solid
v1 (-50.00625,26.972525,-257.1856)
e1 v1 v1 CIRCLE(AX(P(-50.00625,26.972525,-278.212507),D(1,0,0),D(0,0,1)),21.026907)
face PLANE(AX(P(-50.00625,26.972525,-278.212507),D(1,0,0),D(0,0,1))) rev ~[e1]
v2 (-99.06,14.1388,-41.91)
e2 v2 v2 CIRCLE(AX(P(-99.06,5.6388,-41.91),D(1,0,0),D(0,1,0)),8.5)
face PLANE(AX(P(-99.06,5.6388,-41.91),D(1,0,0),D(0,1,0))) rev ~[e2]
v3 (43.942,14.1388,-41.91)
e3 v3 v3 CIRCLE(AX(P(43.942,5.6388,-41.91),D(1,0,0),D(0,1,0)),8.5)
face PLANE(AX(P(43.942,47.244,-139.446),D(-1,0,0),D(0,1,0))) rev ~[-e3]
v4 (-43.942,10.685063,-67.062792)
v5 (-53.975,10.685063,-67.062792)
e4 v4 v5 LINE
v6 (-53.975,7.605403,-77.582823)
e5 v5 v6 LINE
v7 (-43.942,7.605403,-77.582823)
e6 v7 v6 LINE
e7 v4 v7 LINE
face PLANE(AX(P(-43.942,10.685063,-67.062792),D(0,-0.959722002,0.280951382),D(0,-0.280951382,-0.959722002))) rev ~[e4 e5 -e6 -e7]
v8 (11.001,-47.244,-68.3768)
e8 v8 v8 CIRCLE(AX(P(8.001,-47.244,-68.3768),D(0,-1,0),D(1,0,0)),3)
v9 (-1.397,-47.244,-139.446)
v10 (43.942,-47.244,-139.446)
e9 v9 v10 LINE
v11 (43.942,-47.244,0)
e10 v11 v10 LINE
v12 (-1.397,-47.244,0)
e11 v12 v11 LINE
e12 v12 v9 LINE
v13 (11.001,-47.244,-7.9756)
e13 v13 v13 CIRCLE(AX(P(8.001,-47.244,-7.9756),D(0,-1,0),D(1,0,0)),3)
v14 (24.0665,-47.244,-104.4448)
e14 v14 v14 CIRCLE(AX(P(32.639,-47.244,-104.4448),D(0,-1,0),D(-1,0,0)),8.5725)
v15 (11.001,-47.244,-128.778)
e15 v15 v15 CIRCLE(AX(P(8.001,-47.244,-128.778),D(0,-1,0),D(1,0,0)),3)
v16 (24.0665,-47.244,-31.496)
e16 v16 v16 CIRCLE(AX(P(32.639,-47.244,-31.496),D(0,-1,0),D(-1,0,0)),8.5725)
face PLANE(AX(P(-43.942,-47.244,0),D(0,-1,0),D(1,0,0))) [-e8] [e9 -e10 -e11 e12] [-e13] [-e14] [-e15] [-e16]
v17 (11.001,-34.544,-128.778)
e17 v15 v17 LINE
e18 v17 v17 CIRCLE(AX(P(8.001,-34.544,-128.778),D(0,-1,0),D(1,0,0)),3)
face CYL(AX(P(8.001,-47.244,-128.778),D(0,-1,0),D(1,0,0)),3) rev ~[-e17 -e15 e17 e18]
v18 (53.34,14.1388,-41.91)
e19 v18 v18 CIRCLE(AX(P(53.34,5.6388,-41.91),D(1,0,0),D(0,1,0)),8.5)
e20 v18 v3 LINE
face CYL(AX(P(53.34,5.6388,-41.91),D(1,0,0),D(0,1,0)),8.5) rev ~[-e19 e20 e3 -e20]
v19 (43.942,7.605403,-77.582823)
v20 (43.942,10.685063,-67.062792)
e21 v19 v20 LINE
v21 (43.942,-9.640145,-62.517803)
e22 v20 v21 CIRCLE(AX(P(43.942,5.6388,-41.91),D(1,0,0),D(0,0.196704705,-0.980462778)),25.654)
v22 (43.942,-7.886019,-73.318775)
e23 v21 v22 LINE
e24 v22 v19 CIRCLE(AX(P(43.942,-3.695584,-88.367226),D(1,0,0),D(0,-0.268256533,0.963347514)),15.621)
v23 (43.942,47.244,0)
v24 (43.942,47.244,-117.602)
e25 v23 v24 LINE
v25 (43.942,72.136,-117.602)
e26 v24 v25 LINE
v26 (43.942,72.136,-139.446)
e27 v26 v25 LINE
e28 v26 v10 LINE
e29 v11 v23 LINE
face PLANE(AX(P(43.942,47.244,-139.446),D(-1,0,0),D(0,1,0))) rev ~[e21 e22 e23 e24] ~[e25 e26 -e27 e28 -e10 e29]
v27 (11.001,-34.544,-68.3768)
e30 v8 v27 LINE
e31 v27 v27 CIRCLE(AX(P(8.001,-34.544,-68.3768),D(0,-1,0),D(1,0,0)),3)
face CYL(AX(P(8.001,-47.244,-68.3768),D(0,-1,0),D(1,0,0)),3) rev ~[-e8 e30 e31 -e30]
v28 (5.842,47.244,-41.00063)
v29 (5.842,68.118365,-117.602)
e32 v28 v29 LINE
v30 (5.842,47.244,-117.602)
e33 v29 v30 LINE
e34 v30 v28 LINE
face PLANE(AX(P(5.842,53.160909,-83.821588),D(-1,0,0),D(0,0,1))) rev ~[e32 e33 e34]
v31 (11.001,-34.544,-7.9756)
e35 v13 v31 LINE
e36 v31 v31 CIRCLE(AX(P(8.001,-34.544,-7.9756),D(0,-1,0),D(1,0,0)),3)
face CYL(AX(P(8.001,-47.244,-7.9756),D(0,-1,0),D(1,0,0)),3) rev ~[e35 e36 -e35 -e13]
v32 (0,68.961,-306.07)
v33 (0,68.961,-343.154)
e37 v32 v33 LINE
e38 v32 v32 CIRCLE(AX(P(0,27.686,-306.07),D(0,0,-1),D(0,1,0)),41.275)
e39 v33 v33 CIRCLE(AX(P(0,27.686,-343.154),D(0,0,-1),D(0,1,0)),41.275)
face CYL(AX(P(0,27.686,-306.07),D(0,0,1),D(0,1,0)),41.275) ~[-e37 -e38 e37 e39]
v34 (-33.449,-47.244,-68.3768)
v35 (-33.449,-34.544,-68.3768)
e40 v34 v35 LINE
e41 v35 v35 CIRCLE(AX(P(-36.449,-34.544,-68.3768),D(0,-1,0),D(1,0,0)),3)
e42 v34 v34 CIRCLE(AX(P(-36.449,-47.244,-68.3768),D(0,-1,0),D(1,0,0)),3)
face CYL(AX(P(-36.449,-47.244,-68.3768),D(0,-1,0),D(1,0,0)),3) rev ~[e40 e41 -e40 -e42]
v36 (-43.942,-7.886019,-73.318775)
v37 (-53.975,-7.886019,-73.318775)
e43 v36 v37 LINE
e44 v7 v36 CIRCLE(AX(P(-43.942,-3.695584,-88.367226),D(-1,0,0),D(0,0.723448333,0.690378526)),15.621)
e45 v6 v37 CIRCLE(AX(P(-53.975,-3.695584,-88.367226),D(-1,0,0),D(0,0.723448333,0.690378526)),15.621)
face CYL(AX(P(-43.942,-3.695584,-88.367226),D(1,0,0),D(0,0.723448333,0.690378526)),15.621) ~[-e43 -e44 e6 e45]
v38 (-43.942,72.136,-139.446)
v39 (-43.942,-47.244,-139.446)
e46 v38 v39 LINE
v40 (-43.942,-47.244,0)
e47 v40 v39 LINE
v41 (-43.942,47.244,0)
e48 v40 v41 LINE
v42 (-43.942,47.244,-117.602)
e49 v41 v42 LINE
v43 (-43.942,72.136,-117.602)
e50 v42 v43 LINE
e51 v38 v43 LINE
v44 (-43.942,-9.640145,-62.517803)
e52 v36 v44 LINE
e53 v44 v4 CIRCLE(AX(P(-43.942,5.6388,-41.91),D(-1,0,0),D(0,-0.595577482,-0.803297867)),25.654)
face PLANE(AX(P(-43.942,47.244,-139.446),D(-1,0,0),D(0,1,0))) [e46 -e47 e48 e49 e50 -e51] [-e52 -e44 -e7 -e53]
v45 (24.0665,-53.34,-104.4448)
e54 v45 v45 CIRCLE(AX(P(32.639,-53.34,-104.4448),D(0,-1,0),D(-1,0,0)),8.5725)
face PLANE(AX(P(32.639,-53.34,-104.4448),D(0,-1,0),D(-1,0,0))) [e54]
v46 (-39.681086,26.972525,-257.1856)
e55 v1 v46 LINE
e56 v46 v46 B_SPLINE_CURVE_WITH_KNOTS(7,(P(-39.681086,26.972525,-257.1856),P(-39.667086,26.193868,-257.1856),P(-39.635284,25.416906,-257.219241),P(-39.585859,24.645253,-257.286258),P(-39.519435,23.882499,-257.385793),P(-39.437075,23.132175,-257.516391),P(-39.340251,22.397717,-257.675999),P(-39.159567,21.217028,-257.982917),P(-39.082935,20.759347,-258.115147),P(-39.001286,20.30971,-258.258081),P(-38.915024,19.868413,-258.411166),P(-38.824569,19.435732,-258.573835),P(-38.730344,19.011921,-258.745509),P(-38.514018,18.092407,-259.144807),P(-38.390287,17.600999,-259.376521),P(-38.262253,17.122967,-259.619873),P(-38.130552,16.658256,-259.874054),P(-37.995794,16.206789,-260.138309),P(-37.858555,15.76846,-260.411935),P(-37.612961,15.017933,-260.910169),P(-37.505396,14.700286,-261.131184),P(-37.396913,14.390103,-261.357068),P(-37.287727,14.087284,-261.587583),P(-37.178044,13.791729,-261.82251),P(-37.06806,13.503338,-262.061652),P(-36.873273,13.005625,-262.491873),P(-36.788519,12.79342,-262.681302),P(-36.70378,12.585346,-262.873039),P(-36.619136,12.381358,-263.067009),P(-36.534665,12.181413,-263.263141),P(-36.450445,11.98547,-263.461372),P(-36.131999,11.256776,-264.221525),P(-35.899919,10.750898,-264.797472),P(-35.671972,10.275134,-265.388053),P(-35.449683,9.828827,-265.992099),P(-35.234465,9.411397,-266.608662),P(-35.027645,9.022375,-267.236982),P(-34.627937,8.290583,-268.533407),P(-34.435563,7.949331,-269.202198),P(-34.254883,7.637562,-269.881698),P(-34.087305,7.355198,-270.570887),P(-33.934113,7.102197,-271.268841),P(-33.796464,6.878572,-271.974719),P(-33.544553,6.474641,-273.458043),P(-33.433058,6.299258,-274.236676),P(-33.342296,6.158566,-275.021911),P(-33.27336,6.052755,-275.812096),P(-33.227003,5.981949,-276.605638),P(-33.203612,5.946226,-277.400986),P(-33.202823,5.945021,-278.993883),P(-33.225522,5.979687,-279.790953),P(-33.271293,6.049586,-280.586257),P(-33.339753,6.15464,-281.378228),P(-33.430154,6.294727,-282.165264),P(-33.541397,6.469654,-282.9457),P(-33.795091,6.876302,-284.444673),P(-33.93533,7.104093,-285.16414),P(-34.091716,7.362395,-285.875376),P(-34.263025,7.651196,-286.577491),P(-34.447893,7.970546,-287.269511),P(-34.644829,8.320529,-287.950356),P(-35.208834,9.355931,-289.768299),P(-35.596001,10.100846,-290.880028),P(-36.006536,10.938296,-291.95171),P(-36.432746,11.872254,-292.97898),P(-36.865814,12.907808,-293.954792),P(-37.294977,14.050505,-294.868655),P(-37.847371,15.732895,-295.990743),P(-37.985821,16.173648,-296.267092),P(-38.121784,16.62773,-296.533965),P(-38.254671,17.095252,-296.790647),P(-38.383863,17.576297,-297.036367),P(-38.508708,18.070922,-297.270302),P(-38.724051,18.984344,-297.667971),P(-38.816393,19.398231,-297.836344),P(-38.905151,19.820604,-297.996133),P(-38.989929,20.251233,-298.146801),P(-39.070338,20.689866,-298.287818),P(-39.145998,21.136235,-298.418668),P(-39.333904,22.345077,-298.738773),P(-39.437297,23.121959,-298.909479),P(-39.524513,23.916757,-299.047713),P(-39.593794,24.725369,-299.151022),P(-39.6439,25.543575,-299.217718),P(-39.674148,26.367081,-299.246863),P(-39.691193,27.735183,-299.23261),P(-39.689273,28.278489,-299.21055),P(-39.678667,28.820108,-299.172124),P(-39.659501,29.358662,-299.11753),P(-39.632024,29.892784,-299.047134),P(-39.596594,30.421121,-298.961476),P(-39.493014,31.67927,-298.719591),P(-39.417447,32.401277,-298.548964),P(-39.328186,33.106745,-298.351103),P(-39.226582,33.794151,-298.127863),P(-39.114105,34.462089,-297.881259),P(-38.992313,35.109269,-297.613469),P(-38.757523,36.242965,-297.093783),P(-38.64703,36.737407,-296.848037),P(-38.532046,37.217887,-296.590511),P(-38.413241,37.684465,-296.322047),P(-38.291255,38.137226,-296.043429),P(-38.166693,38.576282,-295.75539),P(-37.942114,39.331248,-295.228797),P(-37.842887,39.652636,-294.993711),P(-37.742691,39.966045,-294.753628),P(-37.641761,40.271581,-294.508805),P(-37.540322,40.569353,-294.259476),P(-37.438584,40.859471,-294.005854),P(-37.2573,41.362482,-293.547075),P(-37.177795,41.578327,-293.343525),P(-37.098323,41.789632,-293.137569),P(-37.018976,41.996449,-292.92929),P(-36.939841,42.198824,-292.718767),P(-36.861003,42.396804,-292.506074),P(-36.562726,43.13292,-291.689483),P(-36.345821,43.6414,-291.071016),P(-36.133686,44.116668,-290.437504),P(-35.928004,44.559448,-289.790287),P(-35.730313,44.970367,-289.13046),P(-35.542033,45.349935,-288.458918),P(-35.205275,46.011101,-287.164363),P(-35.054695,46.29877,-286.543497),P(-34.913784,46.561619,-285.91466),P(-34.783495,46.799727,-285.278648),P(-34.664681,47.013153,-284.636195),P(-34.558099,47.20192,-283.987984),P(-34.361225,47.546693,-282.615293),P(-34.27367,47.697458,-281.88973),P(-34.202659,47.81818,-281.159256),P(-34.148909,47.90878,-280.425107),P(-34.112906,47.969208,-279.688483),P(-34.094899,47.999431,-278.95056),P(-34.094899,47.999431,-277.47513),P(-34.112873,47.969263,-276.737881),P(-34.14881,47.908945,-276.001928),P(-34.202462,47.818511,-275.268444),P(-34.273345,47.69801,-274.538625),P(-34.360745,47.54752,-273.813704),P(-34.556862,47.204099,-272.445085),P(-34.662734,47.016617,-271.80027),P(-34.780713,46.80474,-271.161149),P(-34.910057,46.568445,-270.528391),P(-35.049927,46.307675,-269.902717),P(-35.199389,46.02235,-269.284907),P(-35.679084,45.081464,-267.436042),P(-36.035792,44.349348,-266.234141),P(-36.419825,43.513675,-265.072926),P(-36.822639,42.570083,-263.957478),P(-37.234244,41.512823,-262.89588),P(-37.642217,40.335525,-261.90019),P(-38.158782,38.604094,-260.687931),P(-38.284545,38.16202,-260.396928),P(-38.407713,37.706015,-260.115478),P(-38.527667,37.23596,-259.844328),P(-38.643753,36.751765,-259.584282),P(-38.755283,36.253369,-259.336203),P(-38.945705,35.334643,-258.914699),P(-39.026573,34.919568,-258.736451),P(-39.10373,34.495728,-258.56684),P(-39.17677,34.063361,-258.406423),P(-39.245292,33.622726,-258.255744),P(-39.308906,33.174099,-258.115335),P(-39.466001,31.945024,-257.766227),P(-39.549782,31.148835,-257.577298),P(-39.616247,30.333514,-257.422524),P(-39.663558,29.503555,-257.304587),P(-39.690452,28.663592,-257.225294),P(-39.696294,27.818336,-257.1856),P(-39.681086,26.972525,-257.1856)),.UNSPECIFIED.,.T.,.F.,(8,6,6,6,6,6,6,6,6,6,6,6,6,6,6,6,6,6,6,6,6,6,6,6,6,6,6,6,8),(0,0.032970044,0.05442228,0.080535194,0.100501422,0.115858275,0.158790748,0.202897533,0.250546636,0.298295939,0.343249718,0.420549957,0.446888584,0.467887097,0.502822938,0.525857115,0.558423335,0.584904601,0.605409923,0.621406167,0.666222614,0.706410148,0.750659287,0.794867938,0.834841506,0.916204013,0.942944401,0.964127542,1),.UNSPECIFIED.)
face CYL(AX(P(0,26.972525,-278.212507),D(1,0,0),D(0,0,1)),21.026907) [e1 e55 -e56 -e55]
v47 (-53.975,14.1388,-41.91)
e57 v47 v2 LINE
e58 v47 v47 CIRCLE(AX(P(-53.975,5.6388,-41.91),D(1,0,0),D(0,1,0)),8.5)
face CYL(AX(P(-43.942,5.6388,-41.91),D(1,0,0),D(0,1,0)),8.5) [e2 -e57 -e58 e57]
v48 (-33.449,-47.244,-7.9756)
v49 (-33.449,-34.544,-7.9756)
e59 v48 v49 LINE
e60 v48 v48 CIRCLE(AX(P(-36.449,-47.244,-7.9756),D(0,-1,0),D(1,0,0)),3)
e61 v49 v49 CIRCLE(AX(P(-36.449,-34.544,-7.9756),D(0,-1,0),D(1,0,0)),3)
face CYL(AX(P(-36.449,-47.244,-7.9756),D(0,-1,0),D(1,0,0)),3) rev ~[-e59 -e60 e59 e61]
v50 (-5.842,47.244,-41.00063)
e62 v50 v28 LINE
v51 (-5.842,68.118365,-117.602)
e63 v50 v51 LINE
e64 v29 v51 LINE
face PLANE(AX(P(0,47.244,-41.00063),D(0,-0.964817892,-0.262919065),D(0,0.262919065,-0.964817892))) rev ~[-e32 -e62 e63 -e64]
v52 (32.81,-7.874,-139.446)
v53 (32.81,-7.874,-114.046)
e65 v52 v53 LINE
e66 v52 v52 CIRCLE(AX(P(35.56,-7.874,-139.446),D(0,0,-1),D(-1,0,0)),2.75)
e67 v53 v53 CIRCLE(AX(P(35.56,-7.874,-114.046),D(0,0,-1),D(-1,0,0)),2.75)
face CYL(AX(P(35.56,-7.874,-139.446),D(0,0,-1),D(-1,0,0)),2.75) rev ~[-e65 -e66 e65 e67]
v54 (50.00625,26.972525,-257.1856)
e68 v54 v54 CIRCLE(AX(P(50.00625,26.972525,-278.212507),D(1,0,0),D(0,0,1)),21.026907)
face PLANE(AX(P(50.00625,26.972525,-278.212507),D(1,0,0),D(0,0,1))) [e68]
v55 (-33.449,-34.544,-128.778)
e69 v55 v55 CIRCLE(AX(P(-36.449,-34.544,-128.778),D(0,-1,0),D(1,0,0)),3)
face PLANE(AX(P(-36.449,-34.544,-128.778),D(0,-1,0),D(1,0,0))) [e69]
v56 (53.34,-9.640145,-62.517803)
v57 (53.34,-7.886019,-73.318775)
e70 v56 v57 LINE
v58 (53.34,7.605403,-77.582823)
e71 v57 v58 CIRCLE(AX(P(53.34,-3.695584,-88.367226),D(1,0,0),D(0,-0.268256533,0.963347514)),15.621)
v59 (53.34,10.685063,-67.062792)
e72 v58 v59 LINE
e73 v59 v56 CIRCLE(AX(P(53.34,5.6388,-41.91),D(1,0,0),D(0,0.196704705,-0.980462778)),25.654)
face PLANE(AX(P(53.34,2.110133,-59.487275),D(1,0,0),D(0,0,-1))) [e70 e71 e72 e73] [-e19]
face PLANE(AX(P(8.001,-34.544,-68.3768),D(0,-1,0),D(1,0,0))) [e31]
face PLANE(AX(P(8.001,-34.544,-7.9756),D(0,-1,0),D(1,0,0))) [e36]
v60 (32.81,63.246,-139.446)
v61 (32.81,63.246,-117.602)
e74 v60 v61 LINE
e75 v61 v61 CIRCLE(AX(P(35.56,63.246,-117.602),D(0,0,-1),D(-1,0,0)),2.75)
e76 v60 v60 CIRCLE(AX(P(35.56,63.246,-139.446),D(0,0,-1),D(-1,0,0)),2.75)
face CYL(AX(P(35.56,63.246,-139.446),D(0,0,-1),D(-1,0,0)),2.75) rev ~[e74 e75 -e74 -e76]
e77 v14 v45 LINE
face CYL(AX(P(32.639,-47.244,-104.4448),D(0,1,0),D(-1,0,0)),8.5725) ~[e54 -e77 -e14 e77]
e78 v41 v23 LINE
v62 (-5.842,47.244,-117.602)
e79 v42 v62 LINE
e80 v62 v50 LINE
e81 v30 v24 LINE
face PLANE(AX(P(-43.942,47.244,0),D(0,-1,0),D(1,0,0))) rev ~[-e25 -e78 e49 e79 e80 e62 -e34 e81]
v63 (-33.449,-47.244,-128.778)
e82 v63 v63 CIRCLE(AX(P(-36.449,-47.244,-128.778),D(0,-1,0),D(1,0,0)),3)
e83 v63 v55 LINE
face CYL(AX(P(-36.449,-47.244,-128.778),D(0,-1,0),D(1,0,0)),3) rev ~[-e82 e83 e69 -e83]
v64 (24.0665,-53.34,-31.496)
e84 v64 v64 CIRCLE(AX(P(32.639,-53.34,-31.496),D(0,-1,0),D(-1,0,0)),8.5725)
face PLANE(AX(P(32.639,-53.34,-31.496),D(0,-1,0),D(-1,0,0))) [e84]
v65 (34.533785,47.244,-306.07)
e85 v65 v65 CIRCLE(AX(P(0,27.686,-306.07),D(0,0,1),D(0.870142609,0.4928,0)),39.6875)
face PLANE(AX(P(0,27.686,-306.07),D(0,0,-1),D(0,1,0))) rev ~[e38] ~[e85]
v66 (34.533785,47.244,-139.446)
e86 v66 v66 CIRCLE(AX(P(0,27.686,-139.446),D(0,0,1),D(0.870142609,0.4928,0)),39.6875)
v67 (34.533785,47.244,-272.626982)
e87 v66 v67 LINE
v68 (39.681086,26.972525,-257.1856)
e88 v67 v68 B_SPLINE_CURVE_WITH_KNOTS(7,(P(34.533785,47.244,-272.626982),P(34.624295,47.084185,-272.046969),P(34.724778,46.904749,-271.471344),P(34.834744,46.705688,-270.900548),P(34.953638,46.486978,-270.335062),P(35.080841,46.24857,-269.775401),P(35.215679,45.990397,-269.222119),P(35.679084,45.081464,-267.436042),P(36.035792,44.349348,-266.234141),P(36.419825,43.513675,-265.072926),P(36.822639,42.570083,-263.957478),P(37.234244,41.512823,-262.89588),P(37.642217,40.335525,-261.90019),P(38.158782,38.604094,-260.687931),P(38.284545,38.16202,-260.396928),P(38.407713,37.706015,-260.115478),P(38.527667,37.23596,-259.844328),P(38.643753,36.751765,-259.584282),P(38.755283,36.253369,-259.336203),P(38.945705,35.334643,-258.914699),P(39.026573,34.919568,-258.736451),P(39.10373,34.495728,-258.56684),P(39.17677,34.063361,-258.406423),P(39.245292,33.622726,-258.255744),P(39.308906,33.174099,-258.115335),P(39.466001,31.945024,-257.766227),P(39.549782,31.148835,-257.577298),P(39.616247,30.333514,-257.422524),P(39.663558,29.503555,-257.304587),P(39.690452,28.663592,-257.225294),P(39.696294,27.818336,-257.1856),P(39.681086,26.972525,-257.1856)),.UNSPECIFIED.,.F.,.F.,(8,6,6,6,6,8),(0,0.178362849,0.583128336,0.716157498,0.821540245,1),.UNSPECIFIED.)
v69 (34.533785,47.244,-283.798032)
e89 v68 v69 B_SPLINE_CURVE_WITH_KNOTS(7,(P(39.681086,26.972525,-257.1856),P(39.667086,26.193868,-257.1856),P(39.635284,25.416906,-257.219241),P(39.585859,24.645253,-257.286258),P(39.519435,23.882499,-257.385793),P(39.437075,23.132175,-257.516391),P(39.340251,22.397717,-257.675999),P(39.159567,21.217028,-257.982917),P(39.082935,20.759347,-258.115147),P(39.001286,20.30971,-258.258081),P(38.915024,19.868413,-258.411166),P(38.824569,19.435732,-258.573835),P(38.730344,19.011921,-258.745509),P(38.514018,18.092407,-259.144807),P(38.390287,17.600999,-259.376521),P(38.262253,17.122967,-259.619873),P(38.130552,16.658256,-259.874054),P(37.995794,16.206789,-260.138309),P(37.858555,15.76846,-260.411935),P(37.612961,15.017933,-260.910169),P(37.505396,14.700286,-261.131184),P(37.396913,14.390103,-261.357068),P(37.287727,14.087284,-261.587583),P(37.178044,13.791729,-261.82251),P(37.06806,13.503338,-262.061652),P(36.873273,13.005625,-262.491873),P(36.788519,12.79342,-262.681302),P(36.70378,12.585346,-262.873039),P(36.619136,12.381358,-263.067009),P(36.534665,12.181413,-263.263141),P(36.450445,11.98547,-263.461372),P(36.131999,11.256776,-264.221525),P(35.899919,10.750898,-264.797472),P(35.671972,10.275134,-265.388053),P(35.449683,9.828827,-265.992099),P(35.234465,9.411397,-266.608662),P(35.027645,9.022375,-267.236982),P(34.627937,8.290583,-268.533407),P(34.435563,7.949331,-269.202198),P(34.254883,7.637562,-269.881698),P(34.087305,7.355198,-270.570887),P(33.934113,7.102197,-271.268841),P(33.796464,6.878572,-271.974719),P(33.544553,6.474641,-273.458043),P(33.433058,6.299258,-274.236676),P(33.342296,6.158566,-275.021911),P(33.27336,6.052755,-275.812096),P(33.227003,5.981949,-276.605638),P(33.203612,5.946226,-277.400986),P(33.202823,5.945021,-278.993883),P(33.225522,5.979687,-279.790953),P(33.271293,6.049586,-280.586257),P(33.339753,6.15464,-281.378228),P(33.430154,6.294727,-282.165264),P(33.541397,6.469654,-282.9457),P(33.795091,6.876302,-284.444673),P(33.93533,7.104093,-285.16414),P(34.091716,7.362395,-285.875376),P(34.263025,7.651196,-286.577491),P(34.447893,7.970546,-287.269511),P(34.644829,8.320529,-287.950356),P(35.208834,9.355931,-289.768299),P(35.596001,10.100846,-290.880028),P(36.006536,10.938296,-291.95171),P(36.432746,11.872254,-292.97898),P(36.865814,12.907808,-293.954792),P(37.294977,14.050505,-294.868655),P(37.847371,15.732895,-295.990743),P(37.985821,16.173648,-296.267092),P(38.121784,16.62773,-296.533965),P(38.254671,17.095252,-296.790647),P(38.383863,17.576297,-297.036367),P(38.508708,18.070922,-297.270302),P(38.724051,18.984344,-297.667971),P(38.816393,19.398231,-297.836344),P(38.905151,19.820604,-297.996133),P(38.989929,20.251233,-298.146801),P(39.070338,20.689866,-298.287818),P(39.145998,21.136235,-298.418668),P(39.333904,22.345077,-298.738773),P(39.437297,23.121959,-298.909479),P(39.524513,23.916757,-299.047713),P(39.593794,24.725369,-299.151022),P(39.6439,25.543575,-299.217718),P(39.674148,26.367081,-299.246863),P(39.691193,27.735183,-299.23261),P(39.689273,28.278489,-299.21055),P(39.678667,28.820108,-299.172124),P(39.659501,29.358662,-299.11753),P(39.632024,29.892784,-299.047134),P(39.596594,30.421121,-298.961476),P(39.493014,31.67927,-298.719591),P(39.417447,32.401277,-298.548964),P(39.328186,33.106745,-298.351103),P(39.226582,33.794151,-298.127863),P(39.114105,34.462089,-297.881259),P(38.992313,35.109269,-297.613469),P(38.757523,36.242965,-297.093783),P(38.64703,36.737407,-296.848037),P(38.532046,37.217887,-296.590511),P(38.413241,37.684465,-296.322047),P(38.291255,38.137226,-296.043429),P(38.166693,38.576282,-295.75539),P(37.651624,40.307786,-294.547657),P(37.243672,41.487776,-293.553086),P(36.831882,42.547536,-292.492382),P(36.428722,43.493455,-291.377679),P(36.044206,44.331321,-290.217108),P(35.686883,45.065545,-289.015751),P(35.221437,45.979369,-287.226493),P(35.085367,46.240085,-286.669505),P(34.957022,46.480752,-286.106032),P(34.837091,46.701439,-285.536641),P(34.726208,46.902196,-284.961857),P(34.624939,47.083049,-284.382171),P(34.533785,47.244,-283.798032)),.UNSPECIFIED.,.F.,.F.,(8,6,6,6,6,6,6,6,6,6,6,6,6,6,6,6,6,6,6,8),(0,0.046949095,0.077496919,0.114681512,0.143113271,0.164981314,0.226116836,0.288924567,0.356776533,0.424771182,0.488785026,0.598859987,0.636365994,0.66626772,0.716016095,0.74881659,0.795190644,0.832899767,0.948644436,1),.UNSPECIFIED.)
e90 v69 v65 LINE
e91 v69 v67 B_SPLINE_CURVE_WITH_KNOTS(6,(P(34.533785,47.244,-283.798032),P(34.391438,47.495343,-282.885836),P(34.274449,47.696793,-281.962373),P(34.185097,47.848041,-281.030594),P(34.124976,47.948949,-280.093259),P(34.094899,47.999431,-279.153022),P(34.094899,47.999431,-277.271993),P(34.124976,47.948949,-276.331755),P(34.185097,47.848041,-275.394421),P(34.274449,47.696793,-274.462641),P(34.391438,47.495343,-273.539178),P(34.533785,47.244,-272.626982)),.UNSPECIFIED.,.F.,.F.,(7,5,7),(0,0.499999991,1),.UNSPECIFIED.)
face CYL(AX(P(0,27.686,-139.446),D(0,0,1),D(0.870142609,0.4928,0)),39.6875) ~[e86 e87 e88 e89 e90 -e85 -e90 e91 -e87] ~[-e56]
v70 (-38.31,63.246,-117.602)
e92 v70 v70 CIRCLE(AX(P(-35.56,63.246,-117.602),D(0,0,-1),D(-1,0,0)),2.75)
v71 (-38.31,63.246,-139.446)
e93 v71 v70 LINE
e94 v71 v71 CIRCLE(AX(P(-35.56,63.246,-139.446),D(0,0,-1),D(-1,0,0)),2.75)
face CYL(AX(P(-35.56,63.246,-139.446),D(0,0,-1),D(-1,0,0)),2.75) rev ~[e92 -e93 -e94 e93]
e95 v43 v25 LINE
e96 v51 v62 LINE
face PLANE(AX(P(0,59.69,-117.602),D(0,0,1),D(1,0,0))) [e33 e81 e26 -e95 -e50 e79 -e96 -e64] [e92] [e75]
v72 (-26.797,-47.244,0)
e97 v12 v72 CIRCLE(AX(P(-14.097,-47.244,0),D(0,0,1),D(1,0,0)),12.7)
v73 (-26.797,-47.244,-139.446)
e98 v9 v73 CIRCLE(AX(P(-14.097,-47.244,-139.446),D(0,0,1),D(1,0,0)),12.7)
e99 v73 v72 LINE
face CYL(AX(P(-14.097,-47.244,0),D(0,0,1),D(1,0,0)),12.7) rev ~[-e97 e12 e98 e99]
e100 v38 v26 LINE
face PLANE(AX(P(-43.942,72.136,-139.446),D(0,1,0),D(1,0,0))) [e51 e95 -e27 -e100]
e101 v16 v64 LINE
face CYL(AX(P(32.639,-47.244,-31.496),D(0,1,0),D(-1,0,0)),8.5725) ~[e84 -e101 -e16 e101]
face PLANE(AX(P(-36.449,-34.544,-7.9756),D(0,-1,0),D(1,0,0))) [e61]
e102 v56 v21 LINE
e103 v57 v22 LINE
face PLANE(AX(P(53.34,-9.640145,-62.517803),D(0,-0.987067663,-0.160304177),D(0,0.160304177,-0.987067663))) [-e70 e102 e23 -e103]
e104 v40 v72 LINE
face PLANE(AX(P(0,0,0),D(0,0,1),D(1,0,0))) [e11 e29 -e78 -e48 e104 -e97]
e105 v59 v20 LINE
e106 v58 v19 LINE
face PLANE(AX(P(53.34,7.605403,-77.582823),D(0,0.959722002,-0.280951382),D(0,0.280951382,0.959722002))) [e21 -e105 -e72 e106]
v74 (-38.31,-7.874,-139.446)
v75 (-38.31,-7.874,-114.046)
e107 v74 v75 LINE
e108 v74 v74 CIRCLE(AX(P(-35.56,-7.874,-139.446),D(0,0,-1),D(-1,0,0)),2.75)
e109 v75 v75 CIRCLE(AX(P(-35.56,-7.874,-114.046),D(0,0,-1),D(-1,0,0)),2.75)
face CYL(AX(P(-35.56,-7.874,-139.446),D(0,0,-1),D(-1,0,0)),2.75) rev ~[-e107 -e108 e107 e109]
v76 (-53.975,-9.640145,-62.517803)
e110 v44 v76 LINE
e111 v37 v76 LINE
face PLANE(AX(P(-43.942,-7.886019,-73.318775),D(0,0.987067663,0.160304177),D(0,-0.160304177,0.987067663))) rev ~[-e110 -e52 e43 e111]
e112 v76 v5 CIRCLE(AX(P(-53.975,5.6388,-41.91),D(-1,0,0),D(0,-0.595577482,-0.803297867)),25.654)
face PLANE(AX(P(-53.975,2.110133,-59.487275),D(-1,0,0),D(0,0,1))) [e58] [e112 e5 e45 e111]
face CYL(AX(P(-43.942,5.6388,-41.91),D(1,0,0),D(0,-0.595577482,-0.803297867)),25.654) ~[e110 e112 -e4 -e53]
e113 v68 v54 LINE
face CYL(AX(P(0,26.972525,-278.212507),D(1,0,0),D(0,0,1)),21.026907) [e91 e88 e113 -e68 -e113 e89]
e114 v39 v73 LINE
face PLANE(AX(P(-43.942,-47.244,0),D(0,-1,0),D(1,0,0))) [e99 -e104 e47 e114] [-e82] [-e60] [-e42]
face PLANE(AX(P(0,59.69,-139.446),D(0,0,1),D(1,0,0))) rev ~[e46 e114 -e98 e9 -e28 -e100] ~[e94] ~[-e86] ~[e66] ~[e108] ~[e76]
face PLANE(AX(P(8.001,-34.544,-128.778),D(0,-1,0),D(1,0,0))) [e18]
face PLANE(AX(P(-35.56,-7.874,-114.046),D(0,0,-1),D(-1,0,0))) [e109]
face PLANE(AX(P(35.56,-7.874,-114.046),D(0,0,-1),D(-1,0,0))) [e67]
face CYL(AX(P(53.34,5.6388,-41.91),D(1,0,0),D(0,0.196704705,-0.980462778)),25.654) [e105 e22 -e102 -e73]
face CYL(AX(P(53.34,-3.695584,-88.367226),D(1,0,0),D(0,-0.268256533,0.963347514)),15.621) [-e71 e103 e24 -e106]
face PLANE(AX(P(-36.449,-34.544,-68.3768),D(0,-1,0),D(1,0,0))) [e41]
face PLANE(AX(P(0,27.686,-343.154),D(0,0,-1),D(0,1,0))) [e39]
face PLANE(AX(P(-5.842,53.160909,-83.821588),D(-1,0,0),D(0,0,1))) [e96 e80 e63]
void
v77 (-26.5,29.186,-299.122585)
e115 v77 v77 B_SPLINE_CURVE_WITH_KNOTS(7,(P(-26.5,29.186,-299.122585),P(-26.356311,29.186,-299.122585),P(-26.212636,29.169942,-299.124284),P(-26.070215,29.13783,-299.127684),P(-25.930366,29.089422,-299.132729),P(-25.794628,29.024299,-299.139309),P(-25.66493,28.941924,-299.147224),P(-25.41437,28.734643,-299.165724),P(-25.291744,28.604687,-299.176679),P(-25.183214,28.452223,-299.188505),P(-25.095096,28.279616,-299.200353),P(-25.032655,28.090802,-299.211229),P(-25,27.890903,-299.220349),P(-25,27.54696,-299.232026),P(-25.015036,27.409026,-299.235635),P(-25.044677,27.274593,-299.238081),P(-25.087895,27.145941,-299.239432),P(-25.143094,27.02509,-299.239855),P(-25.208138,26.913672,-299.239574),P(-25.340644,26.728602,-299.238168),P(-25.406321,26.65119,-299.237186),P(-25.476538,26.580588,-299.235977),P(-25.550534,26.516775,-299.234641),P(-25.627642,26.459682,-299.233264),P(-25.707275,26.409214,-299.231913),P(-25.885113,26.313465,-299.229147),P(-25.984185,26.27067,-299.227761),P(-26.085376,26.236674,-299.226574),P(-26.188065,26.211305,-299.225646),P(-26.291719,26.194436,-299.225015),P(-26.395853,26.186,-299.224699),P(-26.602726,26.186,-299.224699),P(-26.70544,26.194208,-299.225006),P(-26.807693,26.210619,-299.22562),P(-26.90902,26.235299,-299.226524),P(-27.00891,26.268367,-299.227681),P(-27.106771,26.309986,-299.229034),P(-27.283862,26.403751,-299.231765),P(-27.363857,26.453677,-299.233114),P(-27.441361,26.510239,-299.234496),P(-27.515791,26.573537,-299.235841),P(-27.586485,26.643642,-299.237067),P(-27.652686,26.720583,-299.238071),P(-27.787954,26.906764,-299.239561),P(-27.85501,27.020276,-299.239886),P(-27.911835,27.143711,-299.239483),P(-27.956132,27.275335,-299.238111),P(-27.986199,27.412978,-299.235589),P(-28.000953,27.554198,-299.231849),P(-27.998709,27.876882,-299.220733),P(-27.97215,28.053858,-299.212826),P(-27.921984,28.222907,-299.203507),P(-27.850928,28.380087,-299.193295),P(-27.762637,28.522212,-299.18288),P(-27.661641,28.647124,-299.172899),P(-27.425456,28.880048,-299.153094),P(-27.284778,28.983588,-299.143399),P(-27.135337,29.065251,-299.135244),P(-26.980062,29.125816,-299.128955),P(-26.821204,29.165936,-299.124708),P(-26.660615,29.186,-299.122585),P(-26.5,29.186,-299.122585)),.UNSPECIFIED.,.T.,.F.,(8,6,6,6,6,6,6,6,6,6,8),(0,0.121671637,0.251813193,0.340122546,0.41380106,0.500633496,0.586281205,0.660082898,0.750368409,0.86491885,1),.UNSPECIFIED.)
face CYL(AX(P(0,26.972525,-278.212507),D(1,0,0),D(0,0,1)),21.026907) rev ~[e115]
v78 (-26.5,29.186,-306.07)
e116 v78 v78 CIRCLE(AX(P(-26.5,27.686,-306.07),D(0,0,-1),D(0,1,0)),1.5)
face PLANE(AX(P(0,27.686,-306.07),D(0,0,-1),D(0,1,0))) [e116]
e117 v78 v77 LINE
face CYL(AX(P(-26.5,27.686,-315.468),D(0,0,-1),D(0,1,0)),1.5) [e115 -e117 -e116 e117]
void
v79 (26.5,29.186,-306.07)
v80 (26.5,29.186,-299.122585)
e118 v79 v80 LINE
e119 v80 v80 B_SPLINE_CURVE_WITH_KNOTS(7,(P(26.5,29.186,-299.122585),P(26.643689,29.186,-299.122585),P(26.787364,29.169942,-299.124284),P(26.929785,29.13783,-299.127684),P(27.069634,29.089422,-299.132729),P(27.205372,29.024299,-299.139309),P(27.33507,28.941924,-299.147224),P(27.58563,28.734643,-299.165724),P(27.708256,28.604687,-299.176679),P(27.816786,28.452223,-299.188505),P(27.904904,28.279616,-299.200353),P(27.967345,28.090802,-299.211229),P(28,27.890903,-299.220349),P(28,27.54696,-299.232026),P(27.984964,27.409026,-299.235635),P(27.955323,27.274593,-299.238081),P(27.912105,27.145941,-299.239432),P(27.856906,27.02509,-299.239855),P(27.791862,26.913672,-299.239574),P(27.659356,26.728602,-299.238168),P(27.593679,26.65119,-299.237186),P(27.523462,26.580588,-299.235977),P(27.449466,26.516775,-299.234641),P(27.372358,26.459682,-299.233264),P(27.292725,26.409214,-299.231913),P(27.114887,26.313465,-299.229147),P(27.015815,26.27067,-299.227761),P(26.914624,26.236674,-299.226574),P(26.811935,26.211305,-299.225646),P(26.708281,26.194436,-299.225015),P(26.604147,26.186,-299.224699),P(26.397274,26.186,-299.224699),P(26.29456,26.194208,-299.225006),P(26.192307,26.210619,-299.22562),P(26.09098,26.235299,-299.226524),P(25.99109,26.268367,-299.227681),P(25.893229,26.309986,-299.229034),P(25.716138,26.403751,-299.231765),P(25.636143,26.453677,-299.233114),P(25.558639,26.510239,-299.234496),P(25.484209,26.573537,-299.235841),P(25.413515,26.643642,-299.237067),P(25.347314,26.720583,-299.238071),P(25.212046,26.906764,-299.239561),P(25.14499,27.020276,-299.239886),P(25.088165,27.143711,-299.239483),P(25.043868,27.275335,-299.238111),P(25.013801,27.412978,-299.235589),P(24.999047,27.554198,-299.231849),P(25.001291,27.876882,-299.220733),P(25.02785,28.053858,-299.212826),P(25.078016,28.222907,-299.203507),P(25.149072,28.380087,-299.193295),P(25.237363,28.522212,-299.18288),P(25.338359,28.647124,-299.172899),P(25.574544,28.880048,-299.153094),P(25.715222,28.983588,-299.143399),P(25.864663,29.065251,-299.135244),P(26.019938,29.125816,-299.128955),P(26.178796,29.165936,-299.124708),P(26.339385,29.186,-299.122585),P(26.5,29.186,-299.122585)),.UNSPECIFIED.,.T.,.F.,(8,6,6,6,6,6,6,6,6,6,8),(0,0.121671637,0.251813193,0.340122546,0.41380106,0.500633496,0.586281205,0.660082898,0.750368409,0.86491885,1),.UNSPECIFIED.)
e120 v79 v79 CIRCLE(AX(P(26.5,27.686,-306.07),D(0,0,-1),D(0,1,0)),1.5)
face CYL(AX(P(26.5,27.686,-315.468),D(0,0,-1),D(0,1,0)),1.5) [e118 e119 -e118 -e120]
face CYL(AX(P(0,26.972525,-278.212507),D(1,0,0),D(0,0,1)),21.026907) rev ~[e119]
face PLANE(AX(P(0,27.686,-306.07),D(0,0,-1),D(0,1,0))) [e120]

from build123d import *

# Parameters (mm, degrees)
SKETCH1_W                       = 87.884
SKETCH1_H                       = 94.488
BOSS_EXTRUDE1_DEPTH             = 139.446
SKETCH2_R                       = 8.5
BOSS_EXTRUDE2_DEPTH             = 55.118
SKETCH3_R                       = 39.6875
BOSS_EXTRUDE3_DEPTH             = 176.022
SKETCH4_W                       = 87.884
SKETCH4_H                       = 24.892
BOSS_EXTRUDE4_DEPTH             = 21.844
BOSS_EXTRUDE5_DEPTH             = 5.842
NOT_VERIFIED_EXTRUDE_DEPTH      = 10.033
SKETCH8_R                       = 2.75
CUT_EXTRUDE2_DEPTH              = 25.4
SKETCH7_R                       = 12.7
CHANGE_FOR_OPPOSITE_MOTOR_DEPTH = 339.432482365
SKETCH9_R                       = 3
CUT_EXTRUDE3_DEPTH              = 12.7
SKETCH10_R                      = 8.5725
BOSS_EXTRUDE6_DEPTH             = 6.096
SKETCH11_R                      = 1.5
CUT_EXTRUDE4_DEPTH              = 25.4
BOSS_EXTRUDE7_START             = 9.398
SKETCH12_R                      = 8.5
BOSS_EXTRUDE7_DEPTH             = 9.398
SKETCH13_R                      = 21.02690679
BOSS_EXTRUDE8_DEPTH             = 50.00625
SKETCH15_W                      = 14.986
SKETCH15_H                      = 14.986
BOSS_EXTRUDE9_DEPTH             = 6.35
BRAKE_AND_END_CAP_DEPTH         = 27.686
BRAKE_AND_END_CAP_DEPTH_BACK    = 9.398
SKETCH14_R                      = 41.275


with BuildPart() as part:
    # Sketch1 → Boss-Extrude1 (new body)
    with BuildSketch(Plane.XY):
        Rectangle(SKETCH1_W, SKETCH1_H)
    extrude(amount=-BOSS_EXTRUDE1_DEPTH)

    # Sketch2 → Boss-Extrude2 (add)
    with BuildSketch(Plane(origin=(-43.942, 0, 0), x_dir=(0, 0, -1), z_dir=(1, 0, 0))):
        with Locations(Location((41.91, 5.6388, 0), (0, 0, 90))):
            Circle(SKETCH2_R)
    extrude(amount=-BOSS_EXTRUDE2_DEPTH)

    # Sketch3 → Boss-Extrude3 (add)
    with BuildSketch(Plane(origin=(0, 0, -139.446), x_dir=(-1, 0, 0), z_dir=(0, 0, -1))):
        with Locations(Location((0, 27.686, 0), (0, 0, 150.475215814))):
            Circle(SKETCH3_R)
    extrude(amount=BOSS_EXTRUDE3_DEPTH)

    # Sketch4 → Boss-Extrude4 (add)
    with BuildSketch(Plane.XY.offset(-139.446)):
        with Locations((0, 59.69)):
            Rectangle(SKETCH4_W, SKETCH4_H)
    extrude(amount=BOSS_EXTRUDE4_DEPTH)

    # Sketch5 → Boss-Extrude5 (add, symmetric)
    with BuildSketch(Plane(origin=(0, 0, 0), x_dir=(0, 0, -1), z_dir=(1, 0, 0))):
        Polygon((41.00062989, 47.244), (117.602, 68.118364724), (117.602, 47.244), align=None)
    extrude(amount=BOSS_EXTRUDE5_DEPTH, both=True)

    # Sketch6 → not verified extrude (add)
    with BuildSketch(Plane(origin=(-43.942, 0, 0), x_dir=(0, 0, -1), z_dir=(1, 0, 0))):
        with BuildLine():
            Line((67.062792106, 10.685062506), (77.582823134, 7.605402716))
            ThreePointArc((77.582823134, 7.605402716), (103.428106849, -7.84112489), (73.318774576, -7.88601899))
            Line((73.318774576, -7.88601899), (62.51780348, -9.640144719))
            ThreePointArc((62.51780348, -9.640144719), (16.874294712, 11.237119098), (67.062792106, 10.685062506))
        make_face()
    extrude(amount=-NOT_VERIFIED_EXTRUDE_DEPTH)

    # Sketch8 → Cut-Extrude2 (cut)
    with BuildSketch(Plane(origin=(0, 0, -139.446), x_dir=(-1, 0, 0), z_dir=(0, 0, -1))):
        with Locations((-35.56, 63.246)):
            Circle(SKETCH8_R)
        with Locations((35.56, 63.246)):
            Circle(SKETCH8_R)
        with Locations((35.56, -7.874)):
            Circle(SKETCH8_R)
        with Locations((-35.56, -7.874)):
            Circle(SKETCH8_R)
    extrude(amount=-CUT_EXTRUDE2_DEPTH, mode=Mode.SUBTRACT)

    # Sketch7 → change for opposite motor (cut, through all)
    with BuildSketch(Plane.XY):
        with Locations((-14.097, -47.244)):
            Circle(SKETCH7_R)
    extrude(amount=-CHANGE_FOR_OPPOSITE_MOTOR_DEPTH, mode=Mode.SUBTRACT)

    # Sketch9 → Cut-Extrude3 (cut)
    with BuildSketch(Plane.XZ.offset(47.244)):
        with Locations((8.001, -7.9756)):
            Circle(SKETCH9_R)
        with Locations((8.001, -68.3768)):
            Circle(SKETCH9_R)
        with Locations((8.001, -128.778)):
            Circle(SKETCH9_R)
        with Locations((-36.449, -128.778)):
            Circle(SKETCH9_R)
        with Locations((-36.449, -68.3768)):
            Circle(SKETCH9_R)
        with Locations((-36.449, -7.9756)):
            Circle(SKETCH9_R)
    extrude(amount=-CUT_EXTRUDE3_DEPTH, mode=Mode.SUBTRACT)

    # Sketch10 → Boss-Extrude6 (add)
    with BuildSketch(Plane.XZ.offset(47.244)):
        with Locations(Location((32.639, -31.496, 0), (0, 0, 180))):
            Circle(SKETCH10_R)
        with Locations(Location((32.639, -104.4448, 0), (0, 0, 180))):
            Circle(SKETCH10_R)
    extrude(amount=BOSS_EXTRUDE6_DEPTH)

    # Sketch11 → Cut-Extrude4 (cut)
    with BuildSketch(Plane(origin=(0, 0, -315.468), x_dir=(-1, 0, 0), z_dir=(0, 0, -1))):
        with Locations(Location((-26.5, 27.686, 0), (0, 0, 90))):
            Circle(SKETCH11_R)
        with Locations(Location((26.5, 27.686, 0), (0, 0, 90))):
            Circle(SKETCH11_R)
    extrude(amount=-CUT_EXTRUDE4_DEPTH, mode=Mode.SUBTRACT)

    # Sketch12 → Boss-Extrude7 (add)
    with BuildSketch(Plane(origin=(43.942, 0, 0), x_dir=(0, 0, -1), z_dir=(1, 0, 0)).offset(BOSS_EXTRUDE7_START)):
        with BuildLine():
            Line((77.582823134, 7.605402716), (67.062792106, 10.685062506))
            ThreePointArc((67.062792106, 10.685062506), (16.874294712, 11.237119098), (62.51780348, -9.640144719))
            Line((62.51780348, -9.640144719), (73.318774576, -7.88601899))
            ThreePointArc((73.318774576, -7.88601899), (103.428106849, -7.84112489), (77.582823134, 7.605402716))
        make_face()
        with Locations(Location((41.91, 5.6388, 0), (0, 0, 90))):
            Circle(SKETCH12_R, mode=Mode.SUBTRACT)
    extrude(amount=-BOSS_EXTRUDE7_DEPTH)

    # Sketch13 → Boss-Extrude8 (add, symmetric)
    with BuildSketch(Plane(origin=(0, 0, 0), x_dir=(0, 0, -1), z_dir=(1, 0, 0))):
        with Locations(Location((278.212507153, 26.972524542, 0), (0, 0, 180))):
            Circle(SKETCH13_R)
    extrude(amount=BOSS_EXTRUDE8_DEPTH, both=True)

    # Sketch15 → Boss-Extrude9 (add)
    with BuildSketch(Plane(origin=(0, 0, -315.468), x_dir=(-1, 0, 0), z_dir=(0, 0, -1))):
        with Locations((0, 27.686)):
            Rectangle(SKETCH15_W, SKETCH15_H)
    extrude(amount=BOSS_EXTRUDE9_DEPTH)

    # Sketch14 → brake and end cap (add, two sides: drawn at the far end of the back side and taken through both)
    with BuildSketch(Plane(origin=(0, 0, -315.468), x_dir=(-1, 0, 0), z_dir=(0, 0, -1)).offset(-BRAKE_AND_END_CAP_DEPTH_BACK)):
        with Locations(Location((0, 27.686, 0), (0, 0, 90))):
            Circle(SKETCH14_R)
    extrude(amount=BRAKE_AND_END_CAP_DEPTH + BRAKE_AND_END_CAP_DEPTH_BACK)


solid = part.part
